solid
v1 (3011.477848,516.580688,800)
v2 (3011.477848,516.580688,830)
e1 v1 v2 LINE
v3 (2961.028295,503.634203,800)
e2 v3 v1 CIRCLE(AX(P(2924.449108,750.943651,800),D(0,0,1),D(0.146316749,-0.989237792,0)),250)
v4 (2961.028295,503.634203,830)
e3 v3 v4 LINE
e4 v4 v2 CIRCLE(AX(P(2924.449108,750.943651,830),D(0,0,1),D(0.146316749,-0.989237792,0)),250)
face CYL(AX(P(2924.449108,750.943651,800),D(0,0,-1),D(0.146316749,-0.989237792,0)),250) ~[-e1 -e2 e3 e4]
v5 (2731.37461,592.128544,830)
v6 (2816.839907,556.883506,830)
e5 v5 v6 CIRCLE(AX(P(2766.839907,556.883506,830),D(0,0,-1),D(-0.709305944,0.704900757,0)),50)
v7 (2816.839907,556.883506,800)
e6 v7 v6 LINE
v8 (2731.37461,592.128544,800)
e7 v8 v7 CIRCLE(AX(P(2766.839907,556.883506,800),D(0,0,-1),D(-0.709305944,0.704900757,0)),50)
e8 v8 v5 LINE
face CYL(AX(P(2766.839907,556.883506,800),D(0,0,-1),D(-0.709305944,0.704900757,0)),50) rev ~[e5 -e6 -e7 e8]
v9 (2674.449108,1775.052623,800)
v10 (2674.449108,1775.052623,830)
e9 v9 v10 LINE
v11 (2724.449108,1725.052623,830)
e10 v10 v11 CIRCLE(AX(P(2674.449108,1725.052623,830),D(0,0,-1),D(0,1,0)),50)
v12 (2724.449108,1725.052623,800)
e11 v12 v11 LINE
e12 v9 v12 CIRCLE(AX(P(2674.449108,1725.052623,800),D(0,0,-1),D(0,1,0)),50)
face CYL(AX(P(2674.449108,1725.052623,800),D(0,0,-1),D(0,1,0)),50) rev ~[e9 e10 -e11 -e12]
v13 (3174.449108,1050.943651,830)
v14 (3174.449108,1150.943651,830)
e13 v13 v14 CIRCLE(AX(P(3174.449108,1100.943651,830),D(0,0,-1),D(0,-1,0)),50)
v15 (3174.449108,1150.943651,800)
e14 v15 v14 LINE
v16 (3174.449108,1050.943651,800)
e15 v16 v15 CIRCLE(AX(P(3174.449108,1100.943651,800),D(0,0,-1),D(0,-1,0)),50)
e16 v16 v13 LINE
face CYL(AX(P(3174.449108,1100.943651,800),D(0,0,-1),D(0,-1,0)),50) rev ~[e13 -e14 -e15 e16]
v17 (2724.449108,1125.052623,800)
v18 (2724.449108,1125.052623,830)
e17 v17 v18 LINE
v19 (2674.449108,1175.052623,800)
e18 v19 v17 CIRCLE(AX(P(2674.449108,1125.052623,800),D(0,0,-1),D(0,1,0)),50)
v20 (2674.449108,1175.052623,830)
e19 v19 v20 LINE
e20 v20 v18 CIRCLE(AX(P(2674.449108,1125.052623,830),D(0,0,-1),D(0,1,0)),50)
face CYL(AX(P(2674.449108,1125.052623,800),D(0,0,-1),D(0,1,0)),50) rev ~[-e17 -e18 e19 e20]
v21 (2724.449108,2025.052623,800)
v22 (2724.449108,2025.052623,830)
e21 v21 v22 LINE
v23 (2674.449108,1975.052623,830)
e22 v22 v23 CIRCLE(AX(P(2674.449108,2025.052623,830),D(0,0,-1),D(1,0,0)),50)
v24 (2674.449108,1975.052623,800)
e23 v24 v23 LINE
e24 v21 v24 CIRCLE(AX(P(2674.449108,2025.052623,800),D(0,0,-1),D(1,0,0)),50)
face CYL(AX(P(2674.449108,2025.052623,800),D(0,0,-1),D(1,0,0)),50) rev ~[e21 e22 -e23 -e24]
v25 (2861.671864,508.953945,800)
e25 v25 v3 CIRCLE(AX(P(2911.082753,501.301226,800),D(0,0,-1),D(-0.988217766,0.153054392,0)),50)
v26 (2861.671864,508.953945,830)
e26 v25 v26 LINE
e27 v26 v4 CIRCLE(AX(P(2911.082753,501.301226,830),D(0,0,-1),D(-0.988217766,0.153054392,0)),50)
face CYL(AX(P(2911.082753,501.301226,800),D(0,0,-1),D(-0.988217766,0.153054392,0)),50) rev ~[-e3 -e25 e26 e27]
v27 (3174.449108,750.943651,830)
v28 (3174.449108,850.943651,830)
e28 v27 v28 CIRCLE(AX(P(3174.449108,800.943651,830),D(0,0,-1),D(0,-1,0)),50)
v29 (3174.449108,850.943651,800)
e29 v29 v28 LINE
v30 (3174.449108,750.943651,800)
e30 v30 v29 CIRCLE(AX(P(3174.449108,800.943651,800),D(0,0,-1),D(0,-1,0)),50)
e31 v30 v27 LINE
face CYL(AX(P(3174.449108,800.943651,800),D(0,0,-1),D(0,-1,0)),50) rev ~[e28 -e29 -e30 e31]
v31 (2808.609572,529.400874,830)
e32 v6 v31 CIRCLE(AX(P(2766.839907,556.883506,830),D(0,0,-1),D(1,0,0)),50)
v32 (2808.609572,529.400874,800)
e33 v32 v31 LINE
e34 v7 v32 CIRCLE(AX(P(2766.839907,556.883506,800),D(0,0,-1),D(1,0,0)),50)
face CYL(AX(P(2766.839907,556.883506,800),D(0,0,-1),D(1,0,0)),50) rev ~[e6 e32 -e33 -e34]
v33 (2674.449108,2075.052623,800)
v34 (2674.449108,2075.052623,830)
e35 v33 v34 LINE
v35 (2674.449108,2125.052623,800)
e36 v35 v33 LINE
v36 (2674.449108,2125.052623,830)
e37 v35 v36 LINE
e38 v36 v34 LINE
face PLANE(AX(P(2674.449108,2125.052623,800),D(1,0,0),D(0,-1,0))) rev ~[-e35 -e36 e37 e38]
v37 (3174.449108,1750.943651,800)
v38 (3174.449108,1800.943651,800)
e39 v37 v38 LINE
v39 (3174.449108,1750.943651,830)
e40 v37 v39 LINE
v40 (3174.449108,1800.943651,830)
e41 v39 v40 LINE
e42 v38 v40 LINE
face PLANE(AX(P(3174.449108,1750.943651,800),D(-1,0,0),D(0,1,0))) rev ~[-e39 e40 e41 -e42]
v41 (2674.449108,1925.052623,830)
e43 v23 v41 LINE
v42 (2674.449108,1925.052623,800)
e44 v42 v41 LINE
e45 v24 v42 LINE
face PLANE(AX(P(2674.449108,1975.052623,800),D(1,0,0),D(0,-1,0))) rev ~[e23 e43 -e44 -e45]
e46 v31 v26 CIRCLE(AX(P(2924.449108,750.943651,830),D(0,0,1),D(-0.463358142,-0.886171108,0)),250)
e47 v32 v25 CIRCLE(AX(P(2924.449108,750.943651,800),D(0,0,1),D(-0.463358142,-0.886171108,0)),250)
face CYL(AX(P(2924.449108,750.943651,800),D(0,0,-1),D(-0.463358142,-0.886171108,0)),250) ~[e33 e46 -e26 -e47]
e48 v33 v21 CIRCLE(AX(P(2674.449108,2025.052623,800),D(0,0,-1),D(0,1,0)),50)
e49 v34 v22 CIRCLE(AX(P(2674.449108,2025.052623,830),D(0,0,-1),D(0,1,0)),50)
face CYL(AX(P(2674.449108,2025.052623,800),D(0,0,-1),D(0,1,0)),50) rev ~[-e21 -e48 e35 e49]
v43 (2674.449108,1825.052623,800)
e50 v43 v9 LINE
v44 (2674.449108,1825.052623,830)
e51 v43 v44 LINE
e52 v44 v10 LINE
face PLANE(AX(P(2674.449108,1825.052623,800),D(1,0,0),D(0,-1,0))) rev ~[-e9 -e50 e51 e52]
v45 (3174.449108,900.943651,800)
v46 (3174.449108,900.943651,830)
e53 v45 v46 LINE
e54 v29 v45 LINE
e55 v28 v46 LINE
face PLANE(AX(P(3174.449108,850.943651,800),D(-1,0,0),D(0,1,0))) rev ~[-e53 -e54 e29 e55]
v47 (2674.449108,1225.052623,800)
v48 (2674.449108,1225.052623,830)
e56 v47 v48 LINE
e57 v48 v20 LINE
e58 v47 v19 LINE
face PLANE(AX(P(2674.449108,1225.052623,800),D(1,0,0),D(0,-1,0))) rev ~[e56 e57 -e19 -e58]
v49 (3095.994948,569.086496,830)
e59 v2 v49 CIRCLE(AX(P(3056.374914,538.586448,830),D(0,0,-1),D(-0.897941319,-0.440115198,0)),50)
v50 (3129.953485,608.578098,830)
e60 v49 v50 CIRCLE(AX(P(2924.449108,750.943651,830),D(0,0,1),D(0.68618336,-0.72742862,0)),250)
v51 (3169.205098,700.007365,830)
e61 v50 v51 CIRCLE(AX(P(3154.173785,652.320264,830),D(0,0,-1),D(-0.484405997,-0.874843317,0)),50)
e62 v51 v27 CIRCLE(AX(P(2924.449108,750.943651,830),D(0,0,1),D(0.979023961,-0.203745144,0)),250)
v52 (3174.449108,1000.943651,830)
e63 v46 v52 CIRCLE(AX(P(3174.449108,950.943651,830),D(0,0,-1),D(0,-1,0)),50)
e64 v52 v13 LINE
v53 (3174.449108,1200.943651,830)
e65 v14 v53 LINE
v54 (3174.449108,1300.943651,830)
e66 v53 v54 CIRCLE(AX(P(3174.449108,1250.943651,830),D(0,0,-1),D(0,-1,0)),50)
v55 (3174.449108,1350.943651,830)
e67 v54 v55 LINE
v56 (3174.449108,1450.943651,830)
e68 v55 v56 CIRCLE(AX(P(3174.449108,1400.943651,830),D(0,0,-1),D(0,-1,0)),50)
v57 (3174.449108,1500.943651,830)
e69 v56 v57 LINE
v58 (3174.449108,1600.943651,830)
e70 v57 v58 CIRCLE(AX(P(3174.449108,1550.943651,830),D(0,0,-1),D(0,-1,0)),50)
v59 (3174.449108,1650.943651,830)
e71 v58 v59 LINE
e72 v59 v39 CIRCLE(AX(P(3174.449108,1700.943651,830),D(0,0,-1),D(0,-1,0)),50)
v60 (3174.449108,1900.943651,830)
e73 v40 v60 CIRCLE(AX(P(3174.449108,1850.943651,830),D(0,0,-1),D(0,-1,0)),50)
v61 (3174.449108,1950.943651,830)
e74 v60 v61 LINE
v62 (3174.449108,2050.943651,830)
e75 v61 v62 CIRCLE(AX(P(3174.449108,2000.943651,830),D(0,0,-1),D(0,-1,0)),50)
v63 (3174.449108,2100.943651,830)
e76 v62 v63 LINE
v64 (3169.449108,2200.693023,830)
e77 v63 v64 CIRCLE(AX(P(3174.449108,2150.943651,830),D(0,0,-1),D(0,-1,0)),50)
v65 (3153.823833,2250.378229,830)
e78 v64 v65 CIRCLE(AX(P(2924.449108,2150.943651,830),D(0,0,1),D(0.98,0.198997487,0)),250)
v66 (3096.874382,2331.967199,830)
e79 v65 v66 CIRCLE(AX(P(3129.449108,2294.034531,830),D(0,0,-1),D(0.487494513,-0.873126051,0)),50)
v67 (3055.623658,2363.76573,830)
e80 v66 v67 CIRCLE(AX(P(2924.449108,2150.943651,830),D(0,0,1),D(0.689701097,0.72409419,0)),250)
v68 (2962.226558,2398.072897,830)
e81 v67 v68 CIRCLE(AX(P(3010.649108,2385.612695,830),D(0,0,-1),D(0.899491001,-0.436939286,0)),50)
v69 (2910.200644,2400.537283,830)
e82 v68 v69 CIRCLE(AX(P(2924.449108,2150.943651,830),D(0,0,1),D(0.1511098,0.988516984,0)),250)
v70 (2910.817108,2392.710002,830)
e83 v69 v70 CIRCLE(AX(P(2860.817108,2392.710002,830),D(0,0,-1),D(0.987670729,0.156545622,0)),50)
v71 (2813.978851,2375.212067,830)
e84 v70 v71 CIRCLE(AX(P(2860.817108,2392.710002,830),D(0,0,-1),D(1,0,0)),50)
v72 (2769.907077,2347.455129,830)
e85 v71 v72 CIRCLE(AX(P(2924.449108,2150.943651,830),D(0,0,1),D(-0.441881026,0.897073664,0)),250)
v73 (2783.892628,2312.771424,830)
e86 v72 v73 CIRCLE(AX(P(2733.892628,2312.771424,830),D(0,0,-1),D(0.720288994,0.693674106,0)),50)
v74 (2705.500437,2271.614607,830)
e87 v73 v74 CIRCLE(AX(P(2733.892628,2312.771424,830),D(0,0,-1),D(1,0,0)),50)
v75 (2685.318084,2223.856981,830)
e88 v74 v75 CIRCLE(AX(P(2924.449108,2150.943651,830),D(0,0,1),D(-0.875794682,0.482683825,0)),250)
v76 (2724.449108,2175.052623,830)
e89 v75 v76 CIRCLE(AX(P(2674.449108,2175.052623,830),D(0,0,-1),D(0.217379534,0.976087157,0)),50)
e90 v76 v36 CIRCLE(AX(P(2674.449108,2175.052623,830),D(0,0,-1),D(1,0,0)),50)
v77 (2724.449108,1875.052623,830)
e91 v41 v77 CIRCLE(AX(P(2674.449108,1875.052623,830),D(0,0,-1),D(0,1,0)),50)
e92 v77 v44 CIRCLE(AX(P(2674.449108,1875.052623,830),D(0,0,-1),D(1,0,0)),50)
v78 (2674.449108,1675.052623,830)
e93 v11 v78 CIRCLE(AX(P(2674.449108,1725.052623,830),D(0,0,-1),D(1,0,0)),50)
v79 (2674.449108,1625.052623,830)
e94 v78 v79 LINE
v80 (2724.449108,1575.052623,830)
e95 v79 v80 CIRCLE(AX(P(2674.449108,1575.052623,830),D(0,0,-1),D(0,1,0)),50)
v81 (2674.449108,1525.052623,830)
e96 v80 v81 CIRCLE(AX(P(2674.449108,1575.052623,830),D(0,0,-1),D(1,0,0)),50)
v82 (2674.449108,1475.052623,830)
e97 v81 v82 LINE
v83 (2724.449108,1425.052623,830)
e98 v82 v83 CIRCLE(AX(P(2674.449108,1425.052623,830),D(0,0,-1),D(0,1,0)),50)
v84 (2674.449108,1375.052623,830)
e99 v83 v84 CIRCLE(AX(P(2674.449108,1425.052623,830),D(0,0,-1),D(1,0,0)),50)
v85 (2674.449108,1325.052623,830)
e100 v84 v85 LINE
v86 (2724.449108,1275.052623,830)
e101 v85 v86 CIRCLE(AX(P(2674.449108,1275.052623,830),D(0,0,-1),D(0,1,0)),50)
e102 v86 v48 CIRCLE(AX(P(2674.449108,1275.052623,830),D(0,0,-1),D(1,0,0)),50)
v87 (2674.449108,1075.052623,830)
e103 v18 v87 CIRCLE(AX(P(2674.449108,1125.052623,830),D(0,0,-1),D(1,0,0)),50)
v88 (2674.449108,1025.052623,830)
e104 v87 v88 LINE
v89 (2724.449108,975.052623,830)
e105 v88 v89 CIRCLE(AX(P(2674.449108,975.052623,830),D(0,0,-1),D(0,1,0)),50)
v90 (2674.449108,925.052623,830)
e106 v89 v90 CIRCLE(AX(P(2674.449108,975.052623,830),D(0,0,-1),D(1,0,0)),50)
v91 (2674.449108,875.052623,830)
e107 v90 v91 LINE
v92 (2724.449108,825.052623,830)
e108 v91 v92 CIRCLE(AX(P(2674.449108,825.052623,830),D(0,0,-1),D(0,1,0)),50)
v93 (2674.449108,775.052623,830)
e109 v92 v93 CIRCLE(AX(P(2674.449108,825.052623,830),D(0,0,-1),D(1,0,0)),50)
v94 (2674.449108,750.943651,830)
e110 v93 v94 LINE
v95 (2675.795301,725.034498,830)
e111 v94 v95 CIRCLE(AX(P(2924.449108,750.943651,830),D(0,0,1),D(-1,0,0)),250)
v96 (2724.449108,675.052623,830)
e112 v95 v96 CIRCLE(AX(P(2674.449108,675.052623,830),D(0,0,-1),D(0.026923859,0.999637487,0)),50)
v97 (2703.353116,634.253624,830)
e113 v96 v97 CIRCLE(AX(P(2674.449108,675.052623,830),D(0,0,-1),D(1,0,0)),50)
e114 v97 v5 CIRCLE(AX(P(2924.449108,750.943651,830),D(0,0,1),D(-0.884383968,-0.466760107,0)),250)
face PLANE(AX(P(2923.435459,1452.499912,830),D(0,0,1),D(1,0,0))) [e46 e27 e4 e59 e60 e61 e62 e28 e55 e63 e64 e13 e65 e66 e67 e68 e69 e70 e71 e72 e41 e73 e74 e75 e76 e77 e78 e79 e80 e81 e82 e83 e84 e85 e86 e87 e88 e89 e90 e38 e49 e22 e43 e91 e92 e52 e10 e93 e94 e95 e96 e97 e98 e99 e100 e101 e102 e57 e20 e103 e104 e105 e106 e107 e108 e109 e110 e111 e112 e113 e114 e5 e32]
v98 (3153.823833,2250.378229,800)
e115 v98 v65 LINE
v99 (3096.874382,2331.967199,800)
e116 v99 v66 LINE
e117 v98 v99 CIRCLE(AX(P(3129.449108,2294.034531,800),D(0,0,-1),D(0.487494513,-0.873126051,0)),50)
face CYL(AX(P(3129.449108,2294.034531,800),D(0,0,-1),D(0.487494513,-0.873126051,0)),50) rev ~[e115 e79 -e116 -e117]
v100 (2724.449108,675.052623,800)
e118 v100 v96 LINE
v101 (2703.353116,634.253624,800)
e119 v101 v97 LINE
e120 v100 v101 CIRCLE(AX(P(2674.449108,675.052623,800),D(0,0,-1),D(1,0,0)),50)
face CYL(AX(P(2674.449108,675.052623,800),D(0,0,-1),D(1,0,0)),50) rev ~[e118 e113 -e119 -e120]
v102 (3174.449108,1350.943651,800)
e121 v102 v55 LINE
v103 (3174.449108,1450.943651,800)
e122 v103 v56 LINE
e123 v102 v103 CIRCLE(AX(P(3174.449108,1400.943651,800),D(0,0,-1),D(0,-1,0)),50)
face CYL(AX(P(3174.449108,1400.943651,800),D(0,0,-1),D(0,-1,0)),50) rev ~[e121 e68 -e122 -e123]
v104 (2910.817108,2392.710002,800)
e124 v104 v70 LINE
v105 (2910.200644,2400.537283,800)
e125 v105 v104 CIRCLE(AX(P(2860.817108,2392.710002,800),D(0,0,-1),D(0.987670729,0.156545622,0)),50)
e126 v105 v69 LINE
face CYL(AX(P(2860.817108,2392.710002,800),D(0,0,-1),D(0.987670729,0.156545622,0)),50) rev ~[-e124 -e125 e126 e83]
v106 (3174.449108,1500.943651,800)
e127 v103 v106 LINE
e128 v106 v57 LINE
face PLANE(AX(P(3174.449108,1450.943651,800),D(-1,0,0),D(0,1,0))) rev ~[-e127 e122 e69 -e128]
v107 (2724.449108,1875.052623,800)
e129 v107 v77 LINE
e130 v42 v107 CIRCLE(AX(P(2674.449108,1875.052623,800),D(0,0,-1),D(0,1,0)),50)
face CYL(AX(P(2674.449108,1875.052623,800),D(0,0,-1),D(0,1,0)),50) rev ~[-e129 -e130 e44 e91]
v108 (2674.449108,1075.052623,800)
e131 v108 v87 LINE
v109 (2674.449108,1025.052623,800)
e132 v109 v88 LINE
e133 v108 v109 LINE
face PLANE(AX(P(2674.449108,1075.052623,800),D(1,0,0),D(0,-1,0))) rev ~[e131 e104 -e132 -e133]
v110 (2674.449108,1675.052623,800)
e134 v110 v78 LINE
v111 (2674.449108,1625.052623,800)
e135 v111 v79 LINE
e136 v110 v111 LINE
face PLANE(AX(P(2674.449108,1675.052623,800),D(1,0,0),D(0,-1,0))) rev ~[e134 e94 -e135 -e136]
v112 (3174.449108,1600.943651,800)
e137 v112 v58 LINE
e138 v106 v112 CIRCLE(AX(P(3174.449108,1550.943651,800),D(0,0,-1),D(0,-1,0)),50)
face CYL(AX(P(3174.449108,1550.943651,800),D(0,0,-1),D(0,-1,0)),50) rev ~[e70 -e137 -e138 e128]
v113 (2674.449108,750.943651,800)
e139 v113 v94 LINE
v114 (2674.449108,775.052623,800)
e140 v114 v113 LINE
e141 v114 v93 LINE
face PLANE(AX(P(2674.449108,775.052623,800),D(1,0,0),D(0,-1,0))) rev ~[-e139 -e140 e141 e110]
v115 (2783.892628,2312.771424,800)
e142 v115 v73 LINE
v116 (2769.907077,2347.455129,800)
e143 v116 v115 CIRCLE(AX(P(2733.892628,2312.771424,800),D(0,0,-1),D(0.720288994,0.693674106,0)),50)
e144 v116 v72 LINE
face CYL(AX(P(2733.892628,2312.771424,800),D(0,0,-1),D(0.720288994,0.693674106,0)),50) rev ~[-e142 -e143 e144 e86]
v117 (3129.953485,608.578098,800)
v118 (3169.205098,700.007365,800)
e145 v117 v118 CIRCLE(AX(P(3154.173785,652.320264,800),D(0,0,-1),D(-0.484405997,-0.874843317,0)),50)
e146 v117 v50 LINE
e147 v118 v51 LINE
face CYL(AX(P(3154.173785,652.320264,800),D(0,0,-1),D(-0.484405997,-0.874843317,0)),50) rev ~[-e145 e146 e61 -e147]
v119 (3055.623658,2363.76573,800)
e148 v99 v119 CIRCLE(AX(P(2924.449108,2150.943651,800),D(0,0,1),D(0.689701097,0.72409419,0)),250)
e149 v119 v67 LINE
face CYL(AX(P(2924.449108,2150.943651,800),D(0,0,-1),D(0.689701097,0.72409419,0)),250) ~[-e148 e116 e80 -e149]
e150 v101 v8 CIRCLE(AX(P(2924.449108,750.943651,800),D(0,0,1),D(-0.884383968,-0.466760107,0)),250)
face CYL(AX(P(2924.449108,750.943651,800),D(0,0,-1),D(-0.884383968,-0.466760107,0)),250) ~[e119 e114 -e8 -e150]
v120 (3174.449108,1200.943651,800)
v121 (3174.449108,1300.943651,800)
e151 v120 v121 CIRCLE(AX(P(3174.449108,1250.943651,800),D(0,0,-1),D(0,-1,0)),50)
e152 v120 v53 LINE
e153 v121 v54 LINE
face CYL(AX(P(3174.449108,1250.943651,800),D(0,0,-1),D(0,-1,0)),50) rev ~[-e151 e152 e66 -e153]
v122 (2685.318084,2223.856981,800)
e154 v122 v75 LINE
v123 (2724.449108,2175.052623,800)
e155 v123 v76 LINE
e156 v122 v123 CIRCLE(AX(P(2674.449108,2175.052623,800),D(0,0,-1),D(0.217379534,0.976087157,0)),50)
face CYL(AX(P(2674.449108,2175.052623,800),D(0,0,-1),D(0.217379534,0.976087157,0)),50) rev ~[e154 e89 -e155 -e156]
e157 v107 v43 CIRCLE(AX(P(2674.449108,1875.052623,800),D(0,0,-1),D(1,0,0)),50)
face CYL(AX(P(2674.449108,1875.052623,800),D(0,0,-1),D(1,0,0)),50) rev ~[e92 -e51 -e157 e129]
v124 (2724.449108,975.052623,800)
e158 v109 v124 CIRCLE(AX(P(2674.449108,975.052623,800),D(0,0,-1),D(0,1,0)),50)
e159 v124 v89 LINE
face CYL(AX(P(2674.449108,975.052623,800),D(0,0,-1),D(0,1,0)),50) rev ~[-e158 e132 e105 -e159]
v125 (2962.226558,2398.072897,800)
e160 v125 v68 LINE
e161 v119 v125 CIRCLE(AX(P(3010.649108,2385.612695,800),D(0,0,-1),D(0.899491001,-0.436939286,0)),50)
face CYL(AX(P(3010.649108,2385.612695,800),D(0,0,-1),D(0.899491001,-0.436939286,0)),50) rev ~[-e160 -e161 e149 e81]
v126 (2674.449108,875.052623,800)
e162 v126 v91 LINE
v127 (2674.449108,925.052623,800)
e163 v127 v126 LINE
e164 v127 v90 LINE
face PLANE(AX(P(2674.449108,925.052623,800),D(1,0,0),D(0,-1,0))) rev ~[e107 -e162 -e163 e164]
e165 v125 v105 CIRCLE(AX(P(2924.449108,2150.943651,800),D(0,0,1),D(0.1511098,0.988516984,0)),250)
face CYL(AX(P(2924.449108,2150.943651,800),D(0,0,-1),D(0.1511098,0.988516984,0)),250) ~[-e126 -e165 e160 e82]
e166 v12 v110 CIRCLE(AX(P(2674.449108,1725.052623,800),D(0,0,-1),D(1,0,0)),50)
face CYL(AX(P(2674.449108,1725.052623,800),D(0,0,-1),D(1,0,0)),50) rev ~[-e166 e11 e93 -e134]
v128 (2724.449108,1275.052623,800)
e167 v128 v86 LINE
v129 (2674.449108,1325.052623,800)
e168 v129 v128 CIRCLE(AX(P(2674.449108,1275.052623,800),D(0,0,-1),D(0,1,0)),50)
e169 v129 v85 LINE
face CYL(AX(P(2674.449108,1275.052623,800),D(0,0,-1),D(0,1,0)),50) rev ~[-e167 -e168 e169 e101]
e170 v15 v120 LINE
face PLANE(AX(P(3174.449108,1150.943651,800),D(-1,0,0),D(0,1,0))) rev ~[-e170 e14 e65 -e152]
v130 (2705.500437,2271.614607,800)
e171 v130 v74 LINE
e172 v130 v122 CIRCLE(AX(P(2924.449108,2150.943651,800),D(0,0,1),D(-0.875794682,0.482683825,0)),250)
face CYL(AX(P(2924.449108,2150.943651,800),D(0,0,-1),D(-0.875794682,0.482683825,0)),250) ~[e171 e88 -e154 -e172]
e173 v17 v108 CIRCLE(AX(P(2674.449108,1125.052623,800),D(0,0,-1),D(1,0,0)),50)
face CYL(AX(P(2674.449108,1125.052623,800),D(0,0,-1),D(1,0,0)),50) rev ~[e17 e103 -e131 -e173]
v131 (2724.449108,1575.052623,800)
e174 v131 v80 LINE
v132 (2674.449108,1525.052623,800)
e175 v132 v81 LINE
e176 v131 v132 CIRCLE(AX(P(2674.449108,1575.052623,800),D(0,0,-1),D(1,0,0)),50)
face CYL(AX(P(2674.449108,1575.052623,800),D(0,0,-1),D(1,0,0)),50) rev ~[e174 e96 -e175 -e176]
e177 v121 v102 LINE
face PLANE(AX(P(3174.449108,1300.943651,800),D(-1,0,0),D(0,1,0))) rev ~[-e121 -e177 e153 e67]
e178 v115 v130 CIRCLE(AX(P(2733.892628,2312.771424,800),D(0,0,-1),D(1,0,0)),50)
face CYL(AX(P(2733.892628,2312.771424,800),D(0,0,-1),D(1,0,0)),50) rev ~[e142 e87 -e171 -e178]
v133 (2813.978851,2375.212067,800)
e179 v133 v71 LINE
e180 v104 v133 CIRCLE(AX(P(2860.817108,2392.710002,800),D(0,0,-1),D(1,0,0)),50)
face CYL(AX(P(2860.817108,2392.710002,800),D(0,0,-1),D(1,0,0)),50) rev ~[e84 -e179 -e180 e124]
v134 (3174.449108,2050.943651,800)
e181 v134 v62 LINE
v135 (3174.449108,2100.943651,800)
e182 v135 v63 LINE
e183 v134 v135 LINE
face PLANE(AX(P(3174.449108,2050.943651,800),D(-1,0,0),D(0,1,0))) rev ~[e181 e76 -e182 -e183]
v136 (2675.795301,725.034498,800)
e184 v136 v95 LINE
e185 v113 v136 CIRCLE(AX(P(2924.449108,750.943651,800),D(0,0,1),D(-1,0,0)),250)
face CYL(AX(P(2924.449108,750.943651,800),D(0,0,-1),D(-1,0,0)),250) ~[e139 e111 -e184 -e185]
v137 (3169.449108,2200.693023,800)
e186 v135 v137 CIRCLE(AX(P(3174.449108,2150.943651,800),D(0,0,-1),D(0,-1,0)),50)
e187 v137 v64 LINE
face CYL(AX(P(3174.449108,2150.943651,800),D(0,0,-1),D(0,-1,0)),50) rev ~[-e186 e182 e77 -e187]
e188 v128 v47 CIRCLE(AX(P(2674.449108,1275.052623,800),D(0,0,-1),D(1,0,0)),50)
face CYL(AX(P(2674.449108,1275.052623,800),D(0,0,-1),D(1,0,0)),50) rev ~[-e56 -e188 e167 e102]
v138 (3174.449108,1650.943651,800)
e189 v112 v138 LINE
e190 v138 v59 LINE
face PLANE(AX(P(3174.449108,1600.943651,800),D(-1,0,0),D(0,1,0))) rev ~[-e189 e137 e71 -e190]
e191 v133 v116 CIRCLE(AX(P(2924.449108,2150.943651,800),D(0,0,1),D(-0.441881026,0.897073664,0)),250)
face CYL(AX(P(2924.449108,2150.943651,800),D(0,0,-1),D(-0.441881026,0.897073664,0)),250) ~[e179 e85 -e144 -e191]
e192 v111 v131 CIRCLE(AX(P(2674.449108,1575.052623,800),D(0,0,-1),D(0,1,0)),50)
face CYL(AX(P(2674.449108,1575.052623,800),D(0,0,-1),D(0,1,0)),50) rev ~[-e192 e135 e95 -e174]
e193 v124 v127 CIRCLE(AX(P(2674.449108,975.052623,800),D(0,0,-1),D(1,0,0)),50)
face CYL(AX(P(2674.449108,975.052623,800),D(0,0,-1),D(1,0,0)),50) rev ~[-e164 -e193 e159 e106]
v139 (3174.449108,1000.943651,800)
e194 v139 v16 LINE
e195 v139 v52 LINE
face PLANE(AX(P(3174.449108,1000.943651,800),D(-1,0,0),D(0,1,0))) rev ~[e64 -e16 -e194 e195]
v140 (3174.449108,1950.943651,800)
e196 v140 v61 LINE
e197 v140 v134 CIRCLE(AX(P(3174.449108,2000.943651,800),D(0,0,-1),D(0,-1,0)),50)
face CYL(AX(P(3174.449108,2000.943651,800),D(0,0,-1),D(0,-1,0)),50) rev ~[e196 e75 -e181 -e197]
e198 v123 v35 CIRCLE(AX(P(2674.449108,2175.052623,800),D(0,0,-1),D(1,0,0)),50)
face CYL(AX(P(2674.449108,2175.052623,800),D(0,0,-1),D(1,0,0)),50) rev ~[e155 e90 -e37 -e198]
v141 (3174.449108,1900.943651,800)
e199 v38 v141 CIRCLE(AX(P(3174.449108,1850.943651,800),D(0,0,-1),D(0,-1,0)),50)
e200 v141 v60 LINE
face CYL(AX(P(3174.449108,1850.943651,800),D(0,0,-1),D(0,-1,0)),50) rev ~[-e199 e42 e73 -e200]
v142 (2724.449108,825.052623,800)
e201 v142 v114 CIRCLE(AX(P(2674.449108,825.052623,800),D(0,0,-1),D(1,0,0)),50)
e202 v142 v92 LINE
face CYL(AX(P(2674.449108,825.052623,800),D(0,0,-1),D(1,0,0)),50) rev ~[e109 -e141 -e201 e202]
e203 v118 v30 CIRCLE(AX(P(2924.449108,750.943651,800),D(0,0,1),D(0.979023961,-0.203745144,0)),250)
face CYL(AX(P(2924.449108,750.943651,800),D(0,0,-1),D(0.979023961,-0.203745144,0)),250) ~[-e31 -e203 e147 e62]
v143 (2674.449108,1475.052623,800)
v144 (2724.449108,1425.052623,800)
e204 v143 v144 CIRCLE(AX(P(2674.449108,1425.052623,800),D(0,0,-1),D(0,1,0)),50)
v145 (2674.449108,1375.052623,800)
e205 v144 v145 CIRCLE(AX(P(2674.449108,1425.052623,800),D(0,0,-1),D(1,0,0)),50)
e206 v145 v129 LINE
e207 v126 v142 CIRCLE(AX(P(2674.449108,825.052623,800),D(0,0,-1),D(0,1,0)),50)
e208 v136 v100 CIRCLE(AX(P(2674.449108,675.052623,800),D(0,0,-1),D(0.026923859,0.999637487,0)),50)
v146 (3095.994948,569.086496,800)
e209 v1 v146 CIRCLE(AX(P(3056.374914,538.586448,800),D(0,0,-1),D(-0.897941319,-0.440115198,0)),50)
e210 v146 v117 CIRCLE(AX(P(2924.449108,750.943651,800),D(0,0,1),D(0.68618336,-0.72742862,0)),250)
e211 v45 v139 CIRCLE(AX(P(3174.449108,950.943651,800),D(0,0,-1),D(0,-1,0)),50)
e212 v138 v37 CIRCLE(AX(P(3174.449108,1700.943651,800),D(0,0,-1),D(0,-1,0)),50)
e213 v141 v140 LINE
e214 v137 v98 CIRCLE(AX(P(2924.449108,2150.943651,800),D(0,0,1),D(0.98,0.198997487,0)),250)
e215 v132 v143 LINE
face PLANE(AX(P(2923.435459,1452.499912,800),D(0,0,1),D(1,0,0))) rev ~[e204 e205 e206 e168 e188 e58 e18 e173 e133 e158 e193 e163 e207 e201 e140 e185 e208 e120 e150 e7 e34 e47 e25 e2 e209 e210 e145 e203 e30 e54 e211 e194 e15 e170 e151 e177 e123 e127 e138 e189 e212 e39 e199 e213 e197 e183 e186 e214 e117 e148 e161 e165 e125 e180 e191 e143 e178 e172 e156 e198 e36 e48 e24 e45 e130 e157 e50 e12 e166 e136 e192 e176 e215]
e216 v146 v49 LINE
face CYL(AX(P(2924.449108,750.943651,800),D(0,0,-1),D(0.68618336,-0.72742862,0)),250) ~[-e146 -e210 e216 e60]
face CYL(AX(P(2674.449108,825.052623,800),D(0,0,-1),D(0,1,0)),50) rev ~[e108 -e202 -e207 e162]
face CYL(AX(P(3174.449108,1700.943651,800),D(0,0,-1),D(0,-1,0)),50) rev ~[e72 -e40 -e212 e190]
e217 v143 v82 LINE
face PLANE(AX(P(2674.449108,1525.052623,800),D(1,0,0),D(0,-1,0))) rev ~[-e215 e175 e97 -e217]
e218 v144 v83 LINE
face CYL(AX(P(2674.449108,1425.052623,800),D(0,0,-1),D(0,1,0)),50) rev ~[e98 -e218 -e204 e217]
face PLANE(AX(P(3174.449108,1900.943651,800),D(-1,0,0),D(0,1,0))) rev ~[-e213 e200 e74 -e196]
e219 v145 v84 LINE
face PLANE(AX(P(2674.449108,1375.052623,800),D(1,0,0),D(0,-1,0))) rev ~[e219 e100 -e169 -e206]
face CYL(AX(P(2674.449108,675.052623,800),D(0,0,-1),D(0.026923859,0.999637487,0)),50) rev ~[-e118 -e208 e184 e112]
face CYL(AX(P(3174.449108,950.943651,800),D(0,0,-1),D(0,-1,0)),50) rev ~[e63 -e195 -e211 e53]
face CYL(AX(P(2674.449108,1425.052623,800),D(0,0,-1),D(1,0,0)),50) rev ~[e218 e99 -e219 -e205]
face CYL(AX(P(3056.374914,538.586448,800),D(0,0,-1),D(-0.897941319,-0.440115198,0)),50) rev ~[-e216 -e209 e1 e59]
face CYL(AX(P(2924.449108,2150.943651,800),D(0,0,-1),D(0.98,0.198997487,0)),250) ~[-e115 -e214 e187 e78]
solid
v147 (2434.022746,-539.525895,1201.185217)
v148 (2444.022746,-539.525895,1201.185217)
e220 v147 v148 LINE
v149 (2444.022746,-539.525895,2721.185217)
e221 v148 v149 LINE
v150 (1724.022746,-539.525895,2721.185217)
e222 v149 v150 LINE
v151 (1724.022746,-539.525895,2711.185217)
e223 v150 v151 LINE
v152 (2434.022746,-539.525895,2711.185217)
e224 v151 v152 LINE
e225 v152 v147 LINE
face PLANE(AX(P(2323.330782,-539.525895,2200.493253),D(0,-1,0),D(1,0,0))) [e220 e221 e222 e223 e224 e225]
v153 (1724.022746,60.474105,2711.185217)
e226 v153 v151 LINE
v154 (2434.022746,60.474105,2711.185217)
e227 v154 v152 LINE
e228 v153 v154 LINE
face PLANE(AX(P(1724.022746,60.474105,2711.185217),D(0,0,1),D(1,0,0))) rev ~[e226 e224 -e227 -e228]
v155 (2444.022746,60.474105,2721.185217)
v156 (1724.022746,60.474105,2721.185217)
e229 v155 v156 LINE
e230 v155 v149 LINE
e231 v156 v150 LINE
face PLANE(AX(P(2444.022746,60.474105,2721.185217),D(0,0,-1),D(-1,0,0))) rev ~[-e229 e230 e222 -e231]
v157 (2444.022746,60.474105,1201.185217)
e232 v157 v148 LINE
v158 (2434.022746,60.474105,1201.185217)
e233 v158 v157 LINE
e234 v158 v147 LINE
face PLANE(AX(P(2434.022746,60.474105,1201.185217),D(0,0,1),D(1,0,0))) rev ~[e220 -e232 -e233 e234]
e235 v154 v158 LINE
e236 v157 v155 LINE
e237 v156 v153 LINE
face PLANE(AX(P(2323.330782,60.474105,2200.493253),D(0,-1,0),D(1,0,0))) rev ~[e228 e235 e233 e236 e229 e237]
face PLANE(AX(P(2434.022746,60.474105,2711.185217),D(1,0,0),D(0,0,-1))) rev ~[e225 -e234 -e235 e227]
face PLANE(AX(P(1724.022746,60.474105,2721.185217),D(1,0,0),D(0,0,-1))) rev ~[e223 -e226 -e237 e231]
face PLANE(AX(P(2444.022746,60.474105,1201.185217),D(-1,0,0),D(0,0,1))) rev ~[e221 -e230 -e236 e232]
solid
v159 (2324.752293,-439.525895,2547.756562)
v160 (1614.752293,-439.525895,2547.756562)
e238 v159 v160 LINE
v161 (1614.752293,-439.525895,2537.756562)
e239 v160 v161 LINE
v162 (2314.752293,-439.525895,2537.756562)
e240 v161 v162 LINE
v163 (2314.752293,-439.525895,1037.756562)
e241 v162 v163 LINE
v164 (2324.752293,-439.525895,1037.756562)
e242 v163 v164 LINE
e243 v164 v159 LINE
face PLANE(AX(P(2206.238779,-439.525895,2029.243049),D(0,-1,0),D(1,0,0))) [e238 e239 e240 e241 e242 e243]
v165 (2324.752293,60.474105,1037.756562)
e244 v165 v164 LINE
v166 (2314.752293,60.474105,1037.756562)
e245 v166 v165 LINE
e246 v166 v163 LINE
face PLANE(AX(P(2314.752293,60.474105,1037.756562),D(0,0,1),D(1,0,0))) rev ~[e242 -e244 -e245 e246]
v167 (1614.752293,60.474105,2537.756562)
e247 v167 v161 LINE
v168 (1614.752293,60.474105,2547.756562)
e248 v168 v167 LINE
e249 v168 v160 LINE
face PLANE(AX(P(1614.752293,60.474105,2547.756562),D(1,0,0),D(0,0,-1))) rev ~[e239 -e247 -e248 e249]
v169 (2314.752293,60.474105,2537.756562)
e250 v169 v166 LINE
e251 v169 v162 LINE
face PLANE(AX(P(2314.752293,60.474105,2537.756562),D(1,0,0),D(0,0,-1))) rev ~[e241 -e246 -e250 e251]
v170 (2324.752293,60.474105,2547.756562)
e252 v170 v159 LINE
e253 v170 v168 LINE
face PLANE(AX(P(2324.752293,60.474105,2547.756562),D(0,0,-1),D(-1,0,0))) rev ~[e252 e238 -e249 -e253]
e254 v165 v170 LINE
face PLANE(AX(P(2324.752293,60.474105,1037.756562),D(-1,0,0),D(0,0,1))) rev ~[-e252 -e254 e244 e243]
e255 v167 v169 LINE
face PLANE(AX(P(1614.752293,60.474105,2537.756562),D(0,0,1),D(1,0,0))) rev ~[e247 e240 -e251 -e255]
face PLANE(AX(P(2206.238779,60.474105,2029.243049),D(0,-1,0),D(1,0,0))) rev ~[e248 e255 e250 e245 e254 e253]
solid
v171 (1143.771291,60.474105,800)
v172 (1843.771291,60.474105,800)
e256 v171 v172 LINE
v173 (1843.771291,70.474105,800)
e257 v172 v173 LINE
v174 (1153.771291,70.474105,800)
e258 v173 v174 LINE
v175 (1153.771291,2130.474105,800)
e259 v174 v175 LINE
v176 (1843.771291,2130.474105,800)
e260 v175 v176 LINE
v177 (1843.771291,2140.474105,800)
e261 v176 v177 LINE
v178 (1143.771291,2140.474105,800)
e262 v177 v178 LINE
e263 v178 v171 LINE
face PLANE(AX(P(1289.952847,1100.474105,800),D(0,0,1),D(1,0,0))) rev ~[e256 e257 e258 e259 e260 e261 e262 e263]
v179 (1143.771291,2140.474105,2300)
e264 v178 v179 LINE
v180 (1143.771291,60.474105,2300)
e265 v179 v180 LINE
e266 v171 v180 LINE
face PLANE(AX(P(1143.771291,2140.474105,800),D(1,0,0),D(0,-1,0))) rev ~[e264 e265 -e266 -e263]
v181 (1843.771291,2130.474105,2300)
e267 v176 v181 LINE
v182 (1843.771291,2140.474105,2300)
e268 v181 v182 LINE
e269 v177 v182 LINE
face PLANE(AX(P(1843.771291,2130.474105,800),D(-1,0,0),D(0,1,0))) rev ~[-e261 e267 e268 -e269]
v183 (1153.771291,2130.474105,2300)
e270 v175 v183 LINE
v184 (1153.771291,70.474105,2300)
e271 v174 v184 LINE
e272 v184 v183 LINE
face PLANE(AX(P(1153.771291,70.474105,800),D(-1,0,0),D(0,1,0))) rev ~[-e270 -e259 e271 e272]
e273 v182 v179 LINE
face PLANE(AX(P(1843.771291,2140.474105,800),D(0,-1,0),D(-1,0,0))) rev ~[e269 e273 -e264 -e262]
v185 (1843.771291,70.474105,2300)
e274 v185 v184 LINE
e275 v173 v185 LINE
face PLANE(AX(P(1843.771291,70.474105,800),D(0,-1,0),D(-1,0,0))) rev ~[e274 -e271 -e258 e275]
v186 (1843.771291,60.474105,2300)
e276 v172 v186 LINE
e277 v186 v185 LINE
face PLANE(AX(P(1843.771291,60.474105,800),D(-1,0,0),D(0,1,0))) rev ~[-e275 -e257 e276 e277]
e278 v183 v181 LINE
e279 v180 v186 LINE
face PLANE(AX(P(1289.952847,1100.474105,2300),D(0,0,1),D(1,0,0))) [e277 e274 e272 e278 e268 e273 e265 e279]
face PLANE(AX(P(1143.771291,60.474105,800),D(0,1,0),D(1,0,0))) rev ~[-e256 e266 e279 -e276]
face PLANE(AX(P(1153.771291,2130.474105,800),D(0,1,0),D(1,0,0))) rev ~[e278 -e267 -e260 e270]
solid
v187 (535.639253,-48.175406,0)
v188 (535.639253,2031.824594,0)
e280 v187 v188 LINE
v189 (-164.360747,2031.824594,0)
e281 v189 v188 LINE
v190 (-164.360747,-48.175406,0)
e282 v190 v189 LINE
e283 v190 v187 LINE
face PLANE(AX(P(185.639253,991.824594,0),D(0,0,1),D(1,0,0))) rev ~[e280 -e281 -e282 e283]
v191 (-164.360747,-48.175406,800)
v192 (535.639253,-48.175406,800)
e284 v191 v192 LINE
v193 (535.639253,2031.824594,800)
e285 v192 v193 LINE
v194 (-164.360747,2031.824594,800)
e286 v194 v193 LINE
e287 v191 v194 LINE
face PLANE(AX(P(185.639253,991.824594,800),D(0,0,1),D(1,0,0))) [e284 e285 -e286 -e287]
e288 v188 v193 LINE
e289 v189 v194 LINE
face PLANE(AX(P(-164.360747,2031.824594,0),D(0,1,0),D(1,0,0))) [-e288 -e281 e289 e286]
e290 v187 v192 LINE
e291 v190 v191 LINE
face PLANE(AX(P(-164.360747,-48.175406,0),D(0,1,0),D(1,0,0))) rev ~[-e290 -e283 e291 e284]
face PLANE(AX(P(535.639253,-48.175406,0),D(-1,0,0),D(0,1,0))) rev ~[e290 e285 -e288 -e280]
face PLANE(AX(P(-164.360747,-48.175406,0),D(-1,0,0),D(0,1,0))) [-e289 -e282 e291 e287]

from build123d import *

# Parameters (mm, degrees)
F0_W     = 700
F0_H     = 2080
F1_DEPTH = 800
F3_DEPTH = 1500
F5_DEPTH = 500
F7_DEPTH = 600
F9_DEPTH = 30


with BuildPart() as f1:
    # F0 (on Top) → F1 (new body)
    with BuildSketch(Plane.XY):
        with Locations((185.6392532587, 991.8245942891)):
            Rectangle(F0_W, F0_H)
    extrude(amount=F1_DEPTH)


with BuildPart() as f3:
    # F2 (on face) → F3 (new body)
    with BuildSketch(Plane.XY.offset(800)):
        Polygon((1843.7712907791, 2130.4741051793), (1843.7712907791, 2140.4741051793), (1143.7712907791, 2140.4741051793), (1143.7712907791, 60.4741051793), (1843.7712907791, 60.4741051793), (1843.7712907791, 70.4741051793), (1153.7712907791, 70.4741051793), (1153.7712907791, 2130.4741051793), align=None)
    extrude(amount=F3_DEPTH)


with BuildPart() as f5:
    # F4 (on face) → F5 (new body)
    with BuildSketch(Plane.XZ.offset(-60.4741051793)):
        Polygon((2314.7522926331, 2537.756562233), (2314.7522926331, 1037.756562233), (2324.7522926331, 1037.756562233), (2324.7522926331, 2547.756562233), (1614.7522926331, 2547.756562233), (1614.7522926331, 2537.756562233), align=None)
    extrude(amount=F5_DEPTH)


with BuildPart() as f7:
    # F6 (on face) → F7 (new body)
    with BuildSketch(Plane.XZ.offset(-60.4741051793)):
        Polygon((1724.0227460861, 2721.1852169037), (1724.0227460861, 2711.1852169037), (2434.0227460861, 2711.1852169037), (2434.0227460861, 1201.1852169037), (2444.0227460861, 1201.1852169037), (2444.0227460861, 2721.1852169037), align=None)
    extrude(amount=F7_DEPTH)


with BuildPart() as f9:
    # F8 (on face) → F9 (new body)
    with BuildSketch(Plane.XY.offset(800)):
        with BuildLine():
            Line((3174.4491077536, 2050.9436511483), (3174.4491077536, 2100.9436511483))
            ThreePointArc((3174.4491077536, 2100.9436511483), (3124.5118040981, 2148.4405123953), (3169.4491077536, 2200.6930230036))
            ThreePointArc((3169.4491077536, 2200.6930230036), (3162.9339081078, 2225.9436511483), (3153.8238333888, 2250.3782288352))
            ThreePointArc((3153.8238333888, 2250.3782288352), (3088.4491077536, 2265.4163553183), (3096.8743821184, 2331.967198678))
            ThreePointArc((3096.8743821184, 2331.967198678), (3077.0793799803, 2348.9436511483), (3055.6236577953, 2363.7657304102))
            ThreePointArc((3055.6236577953, 2363.7657304102), (2993.4091077536, 2338.6788859872), (2962.2265577119, 2398.0728972416))
            ThreePointArc((2962.2265577119, 2398.0728972416), (2936.2779538512, 2400.6636511483), (2910.2006441868, 2400.5372834509))
            ThreePointArc((2910.2006441868, 2400.5372834509), (2910.6627536099, 2396.6357620487), (2910.8171077536, 2392.7100023554))
            ThreePointArc((2910.8171077536, 2392.7100023554), (2869.7077539151, 2343.5067869033), (2813.9788513204, 2375.2120672117))
            ThreePointArc((2813.9788513204, 2375.2120672117), (2791.2181431269, 2362.4844511483), (2769.9070774624, 2347.4551288626))
            ThreePointArc((2769.9070774624, 2347.4551288626), (2780.2646154479, 2331.470053403), (2783.8926277536, 2312.7714235794))
            ThreePointArc((2783.8926277536, 2312.7714235794), (2757.1347282886, 2268.5017413723), (2705.5004372448, 2271.6146073989))
            ThreePointArc((2705.5004372448, 2271.6146073989), (2694.1678684375, 2248.2604062269), (2685.3180844688, 2223.8569812242))
            ThreePointArc((2685.3180844688, 2223.8569812242), (2713.4583940567, 2206.3300206781), (2724.4491077536, 2175.052623374))
            ThreePointArc((2724.4491077536, 2175.052623374), (2709.8044468129, 2139.6972843147), (2674.4491077536, 2125.052623374))
            Line((2674.4491077536, 2125.052623374), (2674.4491077536, 2075.052623374))
            ThreePointArc((2674.4491077536, 2075.052623374), (2709.8044468129, 2060.4079624333), (2724.4491077536, 2025.052623374))
            ThreePointArc((2724.4491077536, 2025.052623374), (2709.8044468129, 1989.6972843147), (2674.4491077536, 1975.052623374))
            Line((2674.4491077536, 1975.052623374), (2674.4491077536, 1925.052623374))
            ThreePointArc((2674.4491077536, 1925.052623374), (2709.8044468129, 1910.4079624333), (2724.4491077536, 1875.052623374))
            ThreePointArc((2724.4491077536, 1875.052623374), (2709.8044468129, 1839.6972843147), (2674.4491077536, 1825.052623374))
            Line((2674.4491077536, 1825.052623374), (2674.4491077536, 1775.052623374))
            ThreePointArc((2674.4491077536, 1775.052623374), (2709.8044468129, 1760.4079624333), (2724.4491077536, 1725.052623374))
            ThreePointArc((2724.4491077536, 1725.052623374), (2709.8044468129, 1689.6972843147), (2674.4491077536, 1675.052623374))
            Line((2674.4491077536, 1675.052623374), (2674.4491077536, 1625.052623374))
            ThreePointArc((2674.4491077536, 1625.052623374), (2709.8044468129, 1610.4079624333), (2724.4491077536, 1575.052623374))
            ThreePointArc((2724.4491077536, 1575.052623374), (2709.8044468129, 1539.6972843147), (2674.4491077536, 1525.052623374))
            Line((2674.4491077536, 1525.052623374), (2674.4491077536, 1475.052623374))
            ThreePointArc((2674.4491077536, 1475.052623374), (2709.8044468129, 1460.4079624333), (2724.4491077536, 1425.052623374))
            ThreePointArc((2724.4491077536, 1425.052623374), (2709.8044468129, 1389.6972843147), (2674.4491077536, 1375.052623374))
            Line((2674.4491077536, 1375.052623374), (2674.4491077536, 1325.052623374))
            ThreePointArc((2674.4491077536, 1325.052623374), (2709.8044468129, 1310.4079624333), (2724.4491077536, 1275.052623374))
            ThreePointArc((2724.4491077536, 1275.052623374), (2709.8044468129, 1239.6972843147), (2674.4491077536, 1225.052623374))
            Line((2674.4491077536, 1225.052623374), (2674.4491077536, 1175.052623374))
            ThreePointArc((2674.4491077536, 1175.052623374), (2709.8044468129, 1160.4079624333), (2724.4491077536, 1125.052623374))
            ThreePointArc((2724.4491077536, 1125.052623374), (2709.8044468129, 1089.6972843147), (2674.4491077536, 1075.052623374))
            Line((2674.4491077536, 1075.052623374), (2674.4491077536, 1025.052623374))
            ThreePointArc((2674.4491077536, 1025.052623374), (2709.8044468129, 1010.4079624333), (2724.4491077536, 975.052623374))
            ThreePointArc((2724.4491077536, 975.052623374), (2709.8044468129, 939.6972843147), (2674.4491077536, 925.052623374))
            Line((2674.4491077536, 925.052623374), (2674.4491077536, 875.052623374))
            ThreePointArc((2674.4491077536, 875.052623374), (2709.8044468129, 860.4079624333), (2724.4491077536, 825.052623374))
            ThreePointArc((2724.4491077536, 825.052623374), (2709.8044468129, 789.6972843147), (2674.4491077536, 775.052623374))
            Line((2674.4491077536, 775.052623374), (2674.4491077536, 750.9436511483))
            ThreePointArc((2674.4491077536, 750.9436511483), (2674.7858828215, 737.9715997875), (2675.7953006857, 725.0344977345))
            ThreePointArc((2675.7953006857, 725.0344977345), (2710.277236693, 709.9287638815), (2724.4491077536, 675.052623374))
            ThreePointArc((2724.4491077536, 675.052623374), (2718.8630717893, 652.0874367073), (2703.3531158082, 634.2536243865))
            ThreePointArc((2703.3531158082, 634.2536243865), (2716.2954883044, 612.4804043635), (2731.3746097127, 592.1285441645))
            ThreePointArc((2731.3746097127, 592.1285441645), (2785.9021095714, 603.1072278205), (2816.8399069279, 556.8835063089))
            ThreePointArc((2816.8399069279, 556.8835063089), (2814.7381493925, 542.5392263062), (2808.609572176, 529.4008742469))
            ThreePointArc((2808.609572176, 529.4008742469), (2834.5574637112, 517.6637927564), (2861.6718642351, 508.9539453833))
            ThreePointArc((2861.6718642351, 508.9539453833), (2913.7560235783, 551.2297108466), (2961.0282950427, 503.6342031742))
            ThreePointArc((2961.0282950427, 503.6342031742), (2986.5911451432, 508.7900486786), (3011.4778480695, 516.5806882915))
            ThreePointArc((3011.4778480695, 516.5806882915), (3029.9897527638, 581.0578887936), (3095.9949477126, 569.0864962361))
            ThreePointArc((3095.9949477126, 569.0864962361), (3114.0054669092, 587.9455324362), (3129.9534853903, 608.5780978281))
            ThreePointArc((3129.9534853903, 608.5780978281), (3108.2288497456, 672.0449411883), (3169.2050979973, 700.0073650665))
            ThreePointArc((3169.2050979973, 700.0073650665), (3173.1346497147, 725.3408931029), (3174.4491077536, 750.9436511483))
            ThreePointArc((3174.4491077536, 750.9436511483), (3124.4491077536, 800.9436511483), (3174.4491077536, 850.9436511483))
            Line((3174.4491077536, 850.9436511483), (3174.4491077536, 900.9436511483))
            ThreePointArc((3174.4491077536, 900.9436511483), (3124.4491077536, 950.9436511483), (3174.4491077536, 1000.9436511483))
            Line((3174.4491077536, 1000.9436511483), (3174.4491077536, 1050.9436511483))
            ThreePointArc((3174.4491077536, 1050.9436511483), (3124.4491077536, 1100.9436511483), (3174.4491077536, 1150.9436511483))
            Line((3174.4491077536, 1150.9436511483), (3174.4491077536, 1200.9436511483))
            ThreePointArc((3174.4491077536, 1200.9436511483), (3124.4491077536, 1250.9436511483), (3174.4491077536, 1300.9436511483))
            Line((3174.4491077536, 1300.9436511483), (3174.4491077536, 1350.9436511483))
            ThreePointArc((3174.4491077536, 1350.9436511483), (3124.4491077536, 1400.9436511483), (3174.4491077536, 1450.9436511483))
            Line((3174.4491077536, 1450.9436511483), (3174.4491077536, 1500.9436511483))
            ThreePointArc((3174.4491077536, 1500.9436511483), (3124.4491077536, 1550.9436511483), (3174.4491077536, 1600.9436511483))
            Line((3174.4491077536, 1600.9436511483), (3174.4491077536, 1650.9436511483))
            ThreePointArc((3174.4491077536, 1650.9436511483), (3124.4491077536, 1700.9436511483), (3174.4491077536, 1750.9436511483))
            Line((3174.4491077536, 1750.9436511483), (3174.4491077536, 1800.9436511483))
            ThreePointArc((3174.4491077536, 1800.9436511483), (3124.4491077536, 1850.9436511483), (3174.4491077536, 1900.9436511483))
            Line((3174.4491077536, 1900.9436511483), (3174.4491077536, 1950.9436511483))
            ThreePointArc((3174.4491077536, 1950.9436511483), (3124.4491077536, 2000.9436511483), (3174.4491077536, 2050.9436511483))
        make_face()
    extrude(amount=F9_DEPTH)


solid = Compound([f1.part, f3.part, f5.part, f7.part, f9.part])
